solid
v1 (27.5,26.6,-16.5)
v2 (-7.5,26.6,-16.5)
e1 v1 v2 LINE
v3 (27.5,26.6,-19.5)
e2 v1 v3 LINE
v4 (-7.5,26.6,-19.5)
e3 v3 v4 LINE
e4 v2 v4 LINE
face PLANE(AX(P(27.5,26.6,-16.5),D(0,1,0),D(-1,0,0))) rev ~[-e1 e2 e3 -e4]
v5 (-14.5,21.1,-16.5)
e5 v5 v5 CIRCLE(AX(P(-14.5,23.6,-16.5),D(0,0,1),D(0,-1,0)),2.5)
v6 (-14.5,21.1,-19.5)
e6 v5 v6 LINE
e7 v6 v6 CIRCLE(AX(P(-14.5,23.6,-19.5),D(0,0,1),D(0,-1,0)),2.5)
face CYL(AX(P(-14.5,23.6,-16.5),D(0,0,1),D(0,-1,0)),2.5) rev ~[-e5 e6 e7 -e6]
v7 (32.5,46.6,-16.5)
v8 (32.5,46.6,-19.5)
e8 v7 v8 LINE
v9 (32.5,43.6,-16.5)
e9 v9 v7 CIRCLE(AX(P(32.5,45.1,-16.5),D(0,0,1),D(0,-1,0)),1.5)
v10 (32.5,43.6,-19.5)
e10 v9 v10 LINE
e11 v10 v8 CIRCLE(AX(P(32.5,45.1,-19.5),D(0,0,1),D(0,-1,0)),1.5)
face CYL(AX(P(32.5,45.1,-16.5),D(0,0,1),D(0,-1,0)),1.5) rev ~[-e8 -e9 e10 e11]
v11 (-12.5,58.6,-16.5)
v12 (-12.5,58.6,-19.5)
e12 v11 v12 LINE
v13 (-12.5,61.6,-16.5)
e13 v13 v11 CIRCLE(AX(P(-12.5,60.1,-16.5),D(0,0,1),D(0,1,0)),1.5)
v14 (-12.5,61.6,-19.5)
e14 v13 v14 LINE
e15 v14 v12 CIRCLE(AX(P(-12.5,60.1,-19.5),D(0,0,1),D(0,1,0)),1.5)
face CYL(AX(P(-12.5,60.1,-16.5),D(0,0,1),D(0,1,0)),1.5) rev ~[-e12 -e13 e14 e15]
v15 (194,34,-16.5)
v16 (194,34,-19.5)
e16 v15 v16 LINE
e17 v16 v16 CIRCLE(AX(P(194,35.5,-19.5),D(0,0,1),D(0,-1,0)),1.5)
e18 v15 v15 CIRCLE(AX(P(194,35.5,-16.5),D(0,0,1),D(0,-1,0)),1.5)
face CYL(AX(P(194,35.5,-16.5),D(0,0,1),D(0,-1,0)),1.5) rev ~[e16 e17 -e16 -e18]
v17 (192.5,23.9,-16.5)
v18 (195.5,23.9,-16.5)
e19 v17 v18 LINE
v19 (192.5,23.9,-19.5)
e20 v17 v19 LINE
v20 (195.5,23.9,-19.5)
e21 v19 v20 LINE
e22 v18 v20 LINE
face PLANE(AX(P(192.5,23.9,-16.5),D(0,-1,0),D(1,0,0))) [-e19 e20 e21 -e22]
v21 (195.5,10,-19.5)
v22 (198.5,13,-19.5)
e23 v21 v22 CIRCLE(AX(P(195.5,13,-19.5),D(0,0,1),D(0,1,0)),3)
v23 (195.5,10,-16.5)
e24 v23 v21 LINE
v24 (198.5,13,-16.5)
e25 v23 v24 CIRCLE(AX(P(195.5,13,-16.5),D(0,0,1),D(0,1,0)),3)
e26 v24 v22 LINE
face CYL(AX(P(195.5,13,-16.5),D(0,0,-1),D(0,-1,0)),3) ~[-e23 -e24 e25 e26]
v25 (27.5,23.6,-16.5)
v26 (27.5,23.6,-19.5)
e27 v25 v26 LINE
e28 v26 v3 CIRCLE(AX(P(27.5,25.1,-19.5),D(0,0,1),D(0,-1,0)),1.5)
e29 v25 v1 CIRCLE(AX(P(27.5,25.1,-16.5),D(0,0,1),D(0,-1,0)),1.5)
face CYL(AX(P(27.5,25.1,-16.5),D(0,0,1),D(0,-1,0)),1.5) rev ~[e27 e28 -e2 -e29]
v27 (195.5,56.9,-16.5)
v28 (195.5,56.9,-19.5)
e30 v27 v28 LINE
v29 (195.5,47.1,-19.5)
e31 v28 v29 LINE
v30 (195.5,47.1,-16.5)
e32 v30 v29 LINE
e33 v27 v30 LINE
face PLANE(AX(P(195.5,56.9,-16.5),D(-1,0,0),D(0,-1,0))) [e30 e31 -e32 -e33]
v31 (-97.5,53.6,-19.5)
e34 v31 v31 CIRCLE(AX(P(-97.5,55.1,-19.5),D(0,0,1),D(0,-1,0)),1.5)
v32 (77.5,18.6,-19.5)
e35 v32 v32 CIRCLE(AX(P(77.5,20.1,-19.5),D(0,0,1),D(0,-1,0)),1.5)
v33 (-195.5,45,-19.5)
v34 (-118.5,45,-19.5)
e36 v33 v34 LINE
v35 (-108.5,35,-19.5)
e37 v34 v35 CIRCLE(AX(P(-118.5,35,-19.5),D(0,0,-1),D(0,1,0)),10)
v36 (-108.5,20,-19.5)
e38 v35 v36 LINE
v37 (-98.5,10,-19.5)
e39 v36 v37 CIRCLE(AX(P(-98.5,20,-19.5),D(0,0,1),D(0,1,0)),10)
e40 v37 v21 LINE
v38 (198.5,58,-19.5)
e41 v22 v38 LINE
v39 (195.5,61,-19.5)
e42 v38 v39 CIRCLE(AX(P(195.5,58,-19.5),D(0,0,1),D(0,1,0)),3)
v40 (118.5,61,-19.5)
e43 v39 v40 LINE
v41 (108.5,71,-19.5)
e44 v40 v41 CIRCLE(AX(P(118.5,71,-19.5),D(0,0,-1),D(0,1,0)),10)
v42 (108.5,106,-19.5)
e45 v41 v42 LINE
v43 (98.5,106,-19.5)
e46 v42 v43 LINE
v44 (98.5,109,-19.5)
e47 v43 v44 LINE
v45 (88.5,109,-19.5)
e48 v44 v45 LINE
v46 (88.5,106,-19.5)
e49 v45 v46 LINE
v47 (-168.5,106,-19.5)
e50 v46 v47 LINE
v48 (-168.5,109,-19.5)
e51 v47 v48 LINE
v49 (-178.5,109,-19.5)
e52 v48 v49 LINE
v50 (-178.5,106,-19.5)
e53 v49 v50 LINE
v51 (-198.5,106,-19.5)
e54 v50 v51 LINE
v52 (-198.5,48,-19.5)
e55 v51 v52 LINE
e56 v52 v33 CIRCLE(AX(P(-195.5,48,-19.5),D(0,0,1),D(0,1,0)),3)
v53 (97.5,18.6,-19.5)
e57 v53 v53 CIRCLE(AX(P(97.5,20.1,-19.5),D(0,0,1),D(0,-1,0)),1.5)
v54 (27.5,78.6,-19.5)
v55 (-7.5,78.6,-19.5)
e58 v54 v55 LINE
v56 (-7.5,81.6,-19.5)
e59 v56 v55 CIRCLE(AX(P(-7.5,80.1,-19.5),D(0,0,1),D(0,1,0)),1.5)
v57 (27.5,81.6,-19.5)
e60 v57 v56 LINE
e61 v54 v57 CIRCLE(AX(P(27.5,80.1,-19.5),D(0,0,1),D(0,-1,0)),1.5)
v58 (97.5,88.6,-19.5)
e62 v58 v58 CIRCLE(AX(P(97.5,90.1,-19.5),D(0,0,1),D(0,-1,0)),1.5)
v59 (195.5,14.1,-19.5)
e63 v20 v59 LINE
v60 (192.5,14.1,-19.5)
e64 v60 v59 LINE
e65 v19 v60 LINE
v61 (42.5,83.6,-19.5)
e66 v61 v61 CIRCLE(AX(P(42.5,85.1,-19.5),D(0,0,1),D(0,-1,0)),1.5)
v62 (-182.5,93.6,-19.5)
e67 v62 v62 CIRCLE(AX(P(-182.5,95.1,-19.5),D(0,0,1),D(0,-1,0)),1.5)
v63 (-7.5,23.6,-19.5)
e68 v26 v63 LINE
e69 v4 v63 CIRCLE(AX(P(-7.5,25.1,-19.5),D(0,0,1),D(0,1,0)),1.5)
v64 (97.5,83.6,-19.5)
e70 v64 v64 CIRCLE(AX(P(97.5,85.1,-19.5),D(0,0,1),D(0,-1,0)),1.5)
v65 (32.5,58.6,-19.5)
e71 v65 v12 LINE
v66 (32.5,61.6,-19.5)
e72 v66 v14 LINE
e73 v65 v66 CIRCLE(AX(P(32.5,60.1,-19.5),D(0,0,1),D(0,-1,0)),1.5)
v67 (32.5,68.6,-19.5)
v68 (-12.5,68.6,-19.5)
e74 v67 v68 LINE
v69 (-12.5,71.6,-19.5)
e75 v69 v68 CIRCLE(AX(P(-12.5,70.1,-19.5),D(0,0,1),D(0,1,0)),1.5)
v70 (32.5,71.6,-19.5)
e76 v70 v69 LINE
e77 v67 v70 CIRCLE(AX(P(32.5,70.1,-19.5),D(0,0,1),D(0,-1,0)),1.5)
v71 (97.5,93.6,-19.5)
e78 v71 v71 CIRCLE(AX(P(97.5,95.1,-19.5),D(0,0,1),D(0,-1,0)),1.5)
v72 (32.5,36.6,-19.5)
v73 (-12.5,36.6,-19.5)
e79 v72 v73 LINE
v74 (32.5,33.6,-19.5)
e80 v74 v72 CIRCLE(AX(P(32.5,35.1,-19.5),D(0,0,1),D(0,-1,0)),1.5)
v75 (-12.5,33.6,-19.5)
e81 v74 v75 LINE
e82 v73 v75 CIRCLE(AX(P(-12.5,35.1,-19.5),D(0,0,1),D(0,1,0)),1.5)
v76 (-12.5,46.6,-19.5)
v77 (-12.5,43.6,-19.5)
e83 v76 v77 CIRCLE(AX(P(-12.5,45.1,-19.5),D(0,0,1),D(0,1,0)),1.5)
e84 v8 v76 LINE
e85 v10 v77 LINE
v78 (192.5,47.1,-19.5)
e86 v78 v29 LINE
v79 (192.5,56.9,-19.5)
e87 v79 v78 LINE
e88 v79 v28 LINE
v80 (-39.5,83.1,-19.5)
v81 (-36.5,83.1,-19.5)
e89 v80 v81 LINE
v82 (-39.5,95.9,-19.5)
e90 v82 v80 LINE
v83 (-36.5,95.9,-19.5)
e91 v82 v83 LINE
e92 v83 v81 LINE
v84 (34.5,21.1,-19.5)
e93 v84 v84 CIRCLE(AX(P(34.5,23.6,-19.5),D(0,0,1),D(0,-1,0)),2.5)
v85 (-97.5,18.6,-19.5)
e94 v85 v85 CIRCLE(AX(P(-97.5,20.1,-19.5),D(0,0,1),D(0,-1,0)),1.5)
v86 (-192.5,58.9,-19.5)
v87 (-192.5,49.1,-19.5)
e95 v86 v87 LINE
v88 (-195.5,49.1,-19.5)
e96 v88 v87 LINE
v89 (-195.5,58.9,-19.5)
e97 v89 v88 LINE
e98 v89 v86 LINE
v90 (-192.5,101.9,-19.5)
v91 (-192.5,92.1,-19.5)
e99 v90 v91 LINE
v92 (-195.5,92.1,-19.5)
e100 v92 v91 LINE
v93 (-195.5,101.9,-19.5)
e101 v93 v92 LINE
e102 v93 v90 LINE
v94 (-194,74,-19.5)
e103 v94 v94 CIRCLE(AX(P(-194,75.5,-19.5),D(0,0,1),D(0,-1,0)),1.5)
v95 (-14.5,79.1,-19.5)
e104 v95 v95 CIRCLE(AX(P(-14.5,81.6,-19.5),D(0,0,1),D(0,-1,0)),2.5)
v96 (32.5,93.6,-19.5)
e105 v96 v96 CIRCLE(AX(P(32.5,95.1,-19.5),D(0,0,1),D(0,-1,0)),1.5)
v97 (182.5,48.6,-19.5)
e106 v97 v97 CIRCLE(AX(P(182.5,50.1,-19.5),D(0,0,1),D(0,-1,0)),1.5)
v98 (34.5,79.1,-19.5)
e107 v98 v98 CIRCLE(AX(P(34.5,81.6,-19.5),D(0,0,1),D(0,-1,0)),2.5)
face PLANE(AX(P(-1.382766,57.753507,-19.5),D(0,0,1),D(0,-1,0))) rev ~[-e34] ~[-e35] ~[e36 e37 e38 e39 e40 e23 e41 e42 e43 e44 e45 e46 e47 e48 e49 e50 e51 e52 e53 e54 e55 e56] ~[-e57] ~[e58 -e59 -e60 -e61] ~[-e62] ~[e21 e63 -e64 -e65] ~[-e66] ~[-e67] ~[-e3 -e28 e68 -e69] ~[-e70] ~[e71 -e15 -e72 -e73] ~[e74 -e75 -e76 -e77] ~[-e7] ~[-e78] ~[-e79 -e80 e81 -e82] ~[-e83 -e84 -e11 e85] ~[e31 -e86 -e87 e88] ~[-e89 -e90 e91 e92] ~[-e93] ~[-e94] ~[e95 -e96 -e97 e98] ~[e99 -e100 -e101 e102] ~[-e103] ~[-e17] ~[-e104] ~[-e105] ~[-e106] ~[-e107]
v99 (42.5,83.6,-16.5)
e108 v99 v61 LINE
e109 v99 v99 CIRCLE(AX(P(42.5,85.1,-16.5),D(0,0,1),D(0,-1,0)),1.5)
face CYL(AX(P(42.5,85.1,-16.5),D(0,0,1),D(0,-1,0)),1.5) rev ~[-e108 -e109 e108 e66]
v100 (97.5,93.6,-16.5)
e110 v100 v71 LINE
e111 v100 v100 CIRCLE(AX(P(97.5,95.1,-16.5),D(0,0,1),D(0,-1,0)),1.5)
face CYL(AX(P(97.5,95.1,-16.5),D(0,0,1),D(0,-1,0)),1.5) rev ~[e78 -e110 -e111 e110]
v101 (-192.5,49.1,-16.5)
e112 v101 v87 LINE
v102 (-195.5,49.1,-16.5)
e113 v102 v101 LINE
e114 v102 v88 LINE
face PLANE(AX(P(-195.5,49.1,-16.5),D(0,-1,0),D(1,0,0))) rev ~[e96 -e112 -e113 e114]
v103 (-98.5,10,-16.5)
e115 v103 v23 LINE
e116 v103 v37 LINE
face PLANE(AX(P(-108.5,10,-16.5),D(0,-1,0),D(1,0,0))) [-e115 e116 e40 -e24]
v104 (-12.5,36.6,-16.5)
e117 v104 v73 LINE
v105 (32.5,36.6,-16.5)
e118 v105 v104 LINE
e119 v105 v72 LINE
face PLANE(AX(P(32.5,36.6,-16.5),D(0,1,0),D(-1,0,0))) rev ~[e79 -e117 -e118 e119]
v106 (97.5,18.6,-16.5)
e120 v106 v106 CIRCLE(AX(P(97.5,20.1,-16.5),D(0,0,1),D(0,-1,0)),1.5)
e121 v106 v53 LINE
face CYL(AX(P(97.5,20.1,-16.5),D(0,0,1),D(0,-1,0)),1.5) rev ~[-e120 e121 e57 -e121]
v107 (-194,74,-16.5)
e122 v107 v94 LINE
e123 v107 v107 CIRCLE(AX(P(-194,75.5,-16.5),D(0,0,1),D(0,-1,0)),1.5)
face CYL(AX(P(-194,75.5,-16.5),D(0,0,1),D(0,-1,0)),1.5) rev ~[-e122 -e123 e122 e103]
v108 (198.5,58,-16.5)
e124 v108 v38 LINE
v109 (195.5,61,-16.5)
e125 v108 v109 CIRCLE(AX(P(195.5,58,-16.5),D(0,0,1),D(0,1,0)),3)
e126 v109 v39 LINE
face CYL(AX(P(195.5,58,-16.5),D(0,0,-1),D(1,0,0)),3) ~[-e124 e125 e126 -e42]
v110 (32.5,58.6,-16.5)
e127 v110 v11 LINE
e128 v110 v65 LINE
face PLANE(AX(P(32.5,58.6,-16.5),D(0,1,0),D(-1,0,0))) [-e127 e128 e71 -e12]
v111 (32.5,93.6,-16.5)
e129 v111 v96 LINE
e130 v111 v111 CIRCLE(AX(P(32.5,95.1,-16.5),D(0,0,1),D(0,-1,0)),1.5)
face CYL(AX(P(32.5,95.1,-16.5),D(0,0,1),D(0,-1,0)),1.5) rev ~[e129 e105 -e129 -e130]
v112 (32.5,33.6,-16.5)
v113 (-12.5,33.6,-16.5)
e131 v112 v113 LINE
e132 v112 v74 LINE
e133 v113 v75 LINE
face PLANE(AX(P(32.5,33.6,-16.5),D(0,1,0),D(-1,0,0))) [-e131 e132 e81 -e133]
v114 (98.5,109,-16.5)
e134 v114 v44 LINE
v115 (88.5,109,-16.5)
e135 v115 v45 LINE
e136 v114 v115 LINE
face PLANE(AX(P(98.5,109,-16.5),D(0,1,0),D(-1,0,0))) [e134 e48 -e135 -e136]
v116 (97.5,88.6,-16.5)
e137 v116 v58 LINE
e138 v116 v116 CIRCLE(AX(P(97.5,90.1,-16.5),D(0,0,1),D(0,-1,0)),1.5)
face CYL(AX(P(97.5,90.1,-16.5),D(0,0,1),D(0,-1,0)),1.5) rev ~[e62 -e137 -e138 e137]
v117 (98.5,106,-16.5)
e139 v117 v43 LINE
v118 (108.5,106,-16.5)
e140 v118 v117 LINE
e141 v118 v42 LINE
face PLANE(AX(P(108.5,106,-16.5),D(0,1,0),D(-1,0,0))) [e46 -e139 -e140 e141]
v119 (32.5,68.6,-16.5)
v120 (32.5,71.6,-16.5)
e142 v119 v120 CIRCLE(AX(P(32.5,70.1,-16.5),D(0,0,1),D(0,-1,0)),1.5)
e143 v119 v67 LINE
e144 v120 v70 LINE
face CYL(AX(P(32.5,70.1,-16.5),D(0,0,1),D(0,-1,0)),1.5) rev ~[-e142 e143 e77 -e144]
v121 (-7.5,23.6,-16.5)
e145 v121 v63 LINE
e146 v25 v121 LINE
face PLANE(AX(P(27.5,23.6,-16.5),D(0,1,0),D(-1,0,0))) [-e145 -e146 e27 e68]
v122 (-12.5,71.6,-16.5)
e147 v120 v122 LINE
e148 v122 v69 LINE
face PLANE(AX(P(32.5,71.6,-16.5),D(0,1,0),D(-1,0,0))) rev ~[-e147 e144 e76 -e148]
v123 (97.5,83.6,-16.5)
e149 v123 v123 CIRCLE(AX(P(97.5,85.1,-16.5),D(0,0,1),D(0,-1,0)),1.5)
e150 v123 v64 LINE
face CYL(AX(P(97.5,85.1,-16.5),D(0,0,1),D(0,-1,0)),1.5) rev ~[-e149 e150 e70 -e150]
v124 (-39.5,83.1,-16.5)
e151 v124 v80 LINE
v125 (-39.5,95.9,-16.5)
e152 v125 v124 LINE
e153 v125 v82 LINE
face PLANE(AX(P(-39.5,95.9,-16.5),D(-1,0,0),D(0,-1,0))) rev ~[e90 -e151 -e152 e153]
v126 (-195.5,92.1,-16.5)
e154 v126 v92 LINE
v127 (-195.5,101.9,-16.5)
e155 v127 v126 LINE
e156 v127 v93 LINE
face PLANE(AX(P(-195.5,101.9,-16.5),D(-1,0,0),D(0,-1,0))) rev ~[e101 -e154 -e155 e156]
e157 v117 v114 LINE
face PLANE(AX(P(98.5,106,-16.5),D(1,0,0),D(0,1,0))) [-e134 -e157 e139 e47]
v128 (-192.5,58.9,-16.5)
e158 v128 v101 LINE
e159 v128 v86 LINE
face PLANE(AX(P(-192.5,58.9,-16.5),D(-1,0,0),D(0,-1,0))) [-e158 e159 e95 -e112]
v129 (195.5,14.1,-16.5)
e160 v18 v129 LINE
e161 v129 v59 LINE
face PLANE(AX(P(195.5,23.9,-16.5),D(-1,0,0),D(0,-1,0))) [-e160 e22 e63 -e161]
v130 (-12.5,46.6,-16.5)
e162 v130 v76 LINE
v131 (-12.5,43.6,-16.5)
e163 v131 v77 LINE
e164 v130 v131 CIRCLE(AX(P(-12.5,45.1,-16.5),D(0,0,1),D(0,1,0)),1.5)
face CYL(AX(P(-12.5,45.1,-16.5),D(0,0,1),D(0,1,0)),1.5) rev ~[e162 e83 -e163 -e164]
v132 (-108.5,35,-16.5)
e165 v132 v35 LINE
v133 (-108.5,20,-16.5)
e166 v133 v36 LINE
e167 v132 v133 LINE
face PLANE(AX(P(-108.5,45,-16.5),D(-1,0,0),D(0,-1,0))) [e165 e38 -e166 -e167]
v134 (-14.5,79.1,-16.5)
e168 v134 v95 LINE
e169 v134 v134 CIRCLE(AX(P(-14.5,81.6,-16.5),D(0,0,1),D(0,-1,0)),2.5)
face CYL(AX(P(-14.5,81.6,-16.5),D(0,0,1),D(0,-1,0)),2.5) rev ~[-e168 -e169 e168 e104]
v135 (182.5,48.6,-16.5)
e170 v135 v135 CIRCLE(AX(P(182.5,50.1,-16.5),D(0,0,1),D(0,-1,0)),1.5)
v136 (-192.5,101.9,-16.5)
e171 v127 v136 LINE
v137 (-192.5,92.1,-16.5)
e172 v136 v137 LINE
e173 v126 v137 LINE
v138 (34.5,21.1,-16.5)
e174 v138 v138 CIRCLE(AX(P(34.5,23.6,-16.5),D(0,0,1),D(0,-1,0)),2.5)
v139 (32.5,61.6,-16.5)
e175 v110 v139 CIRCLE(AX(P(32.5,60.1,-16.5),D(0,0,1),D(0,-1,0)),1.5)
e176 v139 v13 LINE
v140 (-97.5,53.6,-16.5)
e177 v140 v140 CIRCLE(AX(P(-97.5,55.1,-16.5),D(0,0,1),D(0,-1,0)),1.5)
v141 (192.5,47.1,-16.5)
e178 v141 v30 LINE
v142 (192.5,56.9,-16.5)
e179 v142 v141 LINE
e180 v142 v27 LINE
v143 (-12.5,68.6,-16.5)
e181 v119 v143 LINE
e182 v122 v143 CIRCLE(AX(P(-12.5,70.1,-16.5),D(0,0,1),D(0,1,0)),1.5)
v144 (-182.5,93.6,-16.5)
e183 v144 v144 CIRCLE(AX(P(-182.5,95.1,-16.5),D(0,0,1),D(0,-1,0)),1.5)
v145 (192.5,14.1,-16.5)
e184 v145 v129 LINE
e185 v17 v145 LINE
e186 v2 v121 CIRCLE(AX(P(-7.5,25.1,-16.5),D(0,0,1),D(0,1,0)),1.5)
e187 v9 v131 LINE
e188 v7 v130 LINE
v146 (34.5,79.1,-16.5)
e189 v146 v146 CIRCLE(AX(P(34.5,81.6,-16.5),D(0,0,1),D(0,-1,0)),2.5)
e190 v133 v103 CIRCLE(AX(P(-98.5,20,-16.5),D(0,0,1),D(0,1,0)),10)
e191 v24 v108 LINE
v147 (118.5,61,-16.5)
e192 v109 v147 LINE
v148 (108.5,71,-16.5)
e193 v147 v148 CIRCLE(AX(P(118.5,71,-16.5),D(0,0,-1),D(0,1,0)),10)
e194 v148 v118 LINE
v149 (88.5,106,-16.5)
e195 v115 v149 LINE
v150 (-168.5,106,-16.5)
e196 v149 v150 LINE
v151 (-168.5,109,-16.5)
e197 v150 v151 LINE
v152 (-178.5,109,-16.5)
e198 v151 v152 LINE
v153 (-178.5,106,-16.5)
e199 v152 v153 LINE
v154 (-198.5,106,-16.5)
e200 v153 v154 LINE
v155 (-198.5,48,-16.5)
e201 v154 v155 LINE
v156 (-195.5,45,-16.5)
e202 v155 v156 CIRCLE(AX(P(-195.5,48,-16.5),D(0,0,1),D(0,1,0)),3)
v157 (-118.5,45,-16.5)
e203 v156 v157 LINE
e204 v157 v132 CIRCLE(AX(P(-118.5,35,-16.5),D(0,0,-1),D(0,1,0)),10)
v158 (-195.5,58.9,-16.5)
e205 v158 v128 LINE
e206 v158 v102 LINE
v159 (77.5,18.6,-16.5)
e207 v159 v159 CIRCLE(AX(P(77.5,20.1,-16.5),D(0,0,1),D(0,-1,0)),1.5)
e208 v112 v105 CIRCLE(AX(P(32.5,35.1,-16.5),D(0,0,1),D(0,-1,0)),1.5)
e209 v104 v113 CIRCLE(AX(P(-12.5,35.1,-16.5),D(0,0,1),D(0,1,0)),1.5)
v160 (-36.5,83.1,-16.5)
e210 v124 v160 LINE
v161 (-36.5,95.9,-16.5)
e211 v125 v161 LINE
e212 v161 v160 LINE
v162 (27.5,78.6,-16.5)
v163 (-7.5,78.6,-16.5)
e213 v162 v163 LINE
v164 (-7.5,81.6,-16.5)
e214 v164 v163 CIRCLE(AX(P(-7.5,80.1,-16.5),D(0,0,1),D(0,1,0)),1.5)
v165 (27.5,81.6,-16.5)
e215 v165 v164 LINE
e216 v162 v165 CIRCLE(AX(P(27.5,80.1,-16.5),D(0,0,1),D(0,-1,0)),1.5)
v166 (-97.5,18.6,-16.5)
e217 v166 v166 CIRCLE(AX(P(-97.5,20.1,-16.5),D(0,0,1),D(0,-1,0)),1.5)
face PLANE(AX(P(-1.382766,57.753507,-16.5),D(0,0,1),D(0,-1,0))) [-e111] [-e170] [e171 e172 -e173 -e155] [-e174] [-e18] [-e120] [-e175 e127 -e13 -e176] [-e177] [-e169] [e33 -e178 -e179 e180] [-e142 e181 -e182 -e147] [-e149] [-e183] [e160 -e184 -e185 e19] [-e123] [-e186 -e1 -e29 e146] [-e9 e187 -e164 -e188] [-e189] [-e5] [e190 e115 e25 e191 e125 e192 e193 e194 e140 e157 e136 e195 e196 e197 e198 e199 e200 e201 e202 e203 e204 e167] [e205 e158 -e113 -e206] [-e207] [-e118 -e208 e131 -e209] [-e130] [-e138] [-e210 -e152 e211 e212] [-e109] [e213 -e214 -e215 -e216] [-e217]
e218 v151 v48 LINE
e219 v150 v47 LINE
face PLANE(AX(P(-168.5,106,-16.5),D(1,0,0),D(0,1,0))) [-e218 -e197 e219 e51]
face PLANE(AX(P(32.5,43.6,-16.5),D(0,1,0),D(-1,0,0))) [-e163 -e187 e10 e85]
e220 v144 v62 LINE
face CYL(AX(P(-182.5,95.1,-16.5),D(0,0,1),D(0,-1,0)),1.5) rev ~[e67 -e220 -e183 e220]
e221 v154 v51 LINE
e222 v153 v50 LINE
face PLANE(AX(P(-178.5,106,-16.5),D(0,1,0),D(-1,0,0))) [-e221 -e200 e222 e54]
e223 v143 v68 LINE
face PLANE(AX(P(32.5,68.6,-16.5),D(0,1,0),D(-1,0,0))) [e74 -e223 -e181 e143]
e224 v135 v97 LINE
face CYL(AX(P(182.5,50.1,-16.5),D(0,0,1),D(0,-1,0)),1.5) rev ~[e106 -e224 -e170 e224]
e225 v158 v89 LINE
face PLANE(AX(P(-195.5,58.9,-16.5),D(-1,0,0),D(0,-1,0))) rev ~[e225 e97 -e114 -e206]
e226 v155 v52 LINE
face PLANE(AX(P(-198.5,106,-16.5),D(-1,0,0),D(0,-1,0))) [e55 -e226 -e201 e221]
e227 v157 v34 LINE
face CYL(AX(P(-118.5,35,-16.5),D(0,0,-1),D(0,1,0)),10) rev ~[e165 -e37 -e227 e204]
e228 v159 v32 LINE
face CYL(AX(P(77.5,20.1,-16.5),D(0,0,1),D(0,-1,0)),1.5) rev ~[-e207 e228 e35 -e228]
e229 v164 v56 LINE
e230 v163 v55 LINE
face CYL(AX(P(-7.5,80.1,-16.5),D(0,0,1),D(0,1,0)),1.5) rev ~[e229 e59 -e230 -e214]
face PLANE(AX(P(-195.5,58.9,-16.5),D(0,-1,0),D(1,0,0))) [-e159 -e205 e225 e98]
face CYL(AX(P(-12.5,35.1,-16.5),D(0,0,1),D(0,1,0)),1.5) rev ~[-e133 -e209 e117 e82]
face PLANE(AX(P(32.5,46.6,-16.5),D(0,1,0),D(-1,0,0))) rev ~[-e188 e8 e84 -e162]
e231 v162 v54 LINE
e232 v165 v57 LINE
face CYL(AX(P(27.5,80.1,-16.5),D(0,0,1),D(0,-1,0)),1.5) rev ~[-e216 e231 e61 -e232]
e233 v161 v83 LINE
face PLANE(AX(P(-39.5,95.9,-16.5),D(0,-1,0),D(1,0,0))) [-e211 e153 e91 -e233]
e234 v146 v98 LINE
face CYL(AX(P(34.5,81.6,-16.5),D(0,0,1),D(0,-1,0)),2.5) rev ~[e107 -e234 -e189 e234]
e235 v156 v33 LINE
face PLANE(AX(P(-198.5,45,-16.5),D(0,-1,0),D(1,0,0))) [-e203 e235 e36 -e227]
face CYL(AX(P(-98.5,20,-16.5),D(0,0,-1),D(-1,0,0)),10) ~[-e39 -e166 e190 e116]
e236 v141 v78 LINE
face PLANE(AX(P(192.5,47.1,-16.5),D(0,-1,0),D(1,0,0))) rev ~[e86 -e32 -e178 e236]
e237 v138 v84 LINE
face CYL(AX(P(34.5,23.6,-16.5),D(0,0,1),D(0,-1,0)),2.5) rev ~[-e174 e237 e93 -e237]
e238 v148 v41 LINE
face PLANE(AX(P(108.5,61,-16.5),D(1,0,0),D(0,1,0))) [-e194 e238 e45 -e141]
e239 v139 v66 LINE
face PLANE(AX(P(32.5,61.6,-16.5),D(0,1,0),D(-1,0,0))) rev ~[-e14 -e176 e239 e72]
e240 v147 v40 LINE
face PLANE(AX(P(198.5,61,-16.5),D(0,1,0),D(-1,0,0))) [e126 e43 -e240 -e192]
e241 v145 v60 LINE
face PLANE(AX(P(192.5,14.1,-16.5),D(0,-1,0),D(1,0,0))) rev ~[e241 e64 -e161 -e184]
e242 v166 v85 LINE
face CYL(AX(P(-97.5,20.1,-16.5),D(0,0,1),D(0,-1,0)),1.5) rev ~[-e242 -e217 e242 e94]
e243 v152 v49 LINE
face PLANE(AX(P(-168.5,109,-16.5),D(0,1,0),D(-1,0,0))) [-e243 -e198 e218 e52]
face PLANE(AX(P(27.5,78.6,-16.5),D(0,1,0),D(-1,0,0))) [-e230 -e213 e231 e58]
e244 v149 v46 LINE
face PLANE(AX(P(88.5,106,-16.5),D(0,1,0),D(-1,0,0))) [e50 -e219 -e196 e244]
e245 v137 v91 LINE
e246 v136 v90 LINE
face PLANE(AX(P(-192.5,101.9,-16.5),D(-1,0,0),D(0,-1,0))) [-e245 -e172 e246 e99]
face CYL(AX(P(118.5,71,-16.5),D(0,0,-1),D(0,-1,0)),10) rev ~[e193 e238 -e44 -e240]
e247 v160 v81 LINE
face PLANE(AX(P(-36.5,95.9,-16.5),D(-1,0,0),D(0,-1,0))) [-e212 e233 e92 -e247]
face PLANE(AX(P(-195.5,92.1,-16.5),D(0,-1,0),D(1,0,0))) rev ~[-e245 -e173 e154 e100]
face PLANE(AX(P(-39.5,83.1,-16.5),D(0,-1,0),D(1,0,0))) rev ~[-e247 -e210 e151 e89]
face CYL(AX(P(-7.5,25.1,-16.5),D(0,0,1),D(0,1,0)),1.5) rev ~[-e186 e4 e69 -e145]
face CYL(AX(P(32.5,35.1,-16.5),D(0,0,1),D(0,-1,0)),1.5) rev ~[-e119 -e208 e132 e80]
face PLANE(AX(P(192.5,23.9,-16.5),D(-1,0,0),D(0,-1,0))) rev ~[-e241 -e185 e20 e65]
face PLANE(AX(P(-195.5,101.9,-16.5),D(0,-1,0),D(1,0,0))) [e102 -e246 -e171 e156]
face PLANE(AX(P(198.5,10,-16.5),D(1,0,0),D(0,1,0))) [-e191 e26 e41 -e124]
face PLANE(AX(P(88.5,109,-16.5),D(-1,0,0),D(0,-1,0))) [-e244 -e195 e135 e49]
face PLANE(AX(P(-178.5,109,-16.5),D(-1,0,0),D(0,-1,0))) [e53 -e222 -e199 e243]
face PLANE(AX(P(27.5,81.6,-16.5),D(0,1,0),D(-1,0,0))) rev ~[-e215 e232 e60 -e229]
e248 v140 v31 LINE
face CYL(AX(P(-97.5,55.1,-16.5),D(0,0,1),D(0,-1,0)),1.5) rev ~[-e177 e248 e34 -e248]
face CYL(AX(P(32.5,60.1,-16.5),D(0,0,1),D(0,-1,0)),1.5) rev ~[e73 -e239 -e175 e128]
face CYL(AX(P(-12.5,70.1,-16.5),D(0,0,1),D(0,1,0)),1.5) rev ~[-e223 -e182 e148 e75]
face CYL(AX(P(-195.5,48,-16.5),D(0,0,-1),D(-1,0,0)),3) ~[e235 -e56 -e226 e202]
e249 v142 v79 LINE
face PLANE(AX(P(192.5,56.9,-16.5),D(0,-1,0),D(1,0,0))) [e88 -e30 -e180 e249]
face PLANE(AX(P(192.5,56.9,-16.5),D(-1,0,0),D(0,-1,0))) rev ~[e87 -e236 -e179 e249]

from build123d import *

# Parameters (mm, degrees)
SKETCH001002008_R   = 1.5
SKETCH001002008_R_2 = 2.5
SKETCH001002008_W   = 9.8
SKETCH001002008_H   = 3
SKETCH001002008_W_2 = 12.8
PAD013_DEPTH        = 3
FILLET027_R         = 3
FILLET030_R         = 10


with BuildPart() as part:
    # Sketch001002008 → Pad013 (new body)
    with BuildSketch(Plane(origin=(0, 45, -16.5), x_dir=(0, -1, 0), z_dir=(0, 0, 1))):
        Polygon((-61, -198.5), (0, -198.5), (0, -108.5), (35, -108.5), (35, 198.5), (-16, 198.5), (-16, 108.5), (-61, 108.5), (-61, 98.5), (-64, 98.5), (-64, 88.5), (-61, 88.5), (-61, -168.5), (-64, -168.5), (-64, -178.5), (-61, -178.5), align=None)
        with Locations((9.5, 194)):
            Circle(SKETCH001002008_R, mode=Mode.SUBTRACT)
        with Locations((-30.5, -194)):
            Circle(SKETCH001002008_R, mode=Mode.SUBTRACT)
        with Locations((-5.1, 182.5)):
            Circle(SKETCH001002008_R, mode=Mode.SUBTRACT)
        with Locations((-36.6, 34.5)):
            Circle(SKETCH001002008_R_2, mode=Mode.SUBTRACT)
        with Locations((21.4, 34.5)):
            Circle(SKETCH001002008_R_2, mode=Mode.SUBTRACT)
        with Locations((21.4, -14.5)):
            Circle(SKETCH001002008_R_2, mode=Mode.SUBTRACT)
        with Locations((-36.6, -14.5)):
            Circle(SKETCH001002008_R_2, mode=Mode.SUBTRACT)
        with Locations((-50.1, 97.5)):
            Circle(SKETCH001002008_R, mode=Mode.SUBTRACT)
        with Locations((-50.1, -182.5)):
            Circle(SKETCH001002008_R, mode=Mode.SUBTRACT)
        with Locations((24.9, -97.5)):
            Circle(SKETCH001002008_R, mode=Mode.SUBTRACT)
        with Locations((-50.1, 32.5)):
            Circle(SKETCH001002008_R, mode=Mode.SUBTRACT)
        with Locations((-10.1, -97.5)):
            Circle(SKETCH001002008_R, mode=Mode.SUBTRACT)
        with Locations((24.9, 77.5)):
            Circle(SKETCH001002008_R, mode=Mode.SUBTRACT)
        with Locations((-45.1, 97.5)):
            Circle(SKETCH001002008_R, mode=Mode.SUBTRACT)
        with Locations((-40.1, 97.5)):
            Circle(SKETCH001002008_R, mode=Mode.SUBTRACT)
        with Locations((24.9, 97.5)):
            Circle(SKETCH001002008_R, mode=Mode.SUBTRACT)
        with Locations((-40.1, 42.5)):
            Circle(SKETCH001002008_R, mode=Mode.SUBTRACT)
        with Locations((-52, -194)):
            Rectangle(SKETCH001002008_W, SKETCH001002008_H, mode=Mode.SUBTRACT)
        with Locations((-9, -194)):
            Rectangle(SKETCH001002008_W, SKETCH001002008_H, mode=Mode.SUBTRACT)
        with Locations((-7, 194)):
            Rectangle(SKETCH001002008_W, SKETCH001002008_H, mode=Mode.SUBTRACT)
        with Locations((26, 194)):
            Rectangle(SKETCH001002008_W, SKETCH001002008_H, mode=Mode.SUBTRACT)
        with Locations((-44.5, -38)):
            Rectangle(SKETCH001002008_W_2, SKETCH001002008_H, mode=Mode.SUBTRACT)
        with BuildLine():
            ThreePointArc((-33.6, 27.5), (-35.1, 29), (-36.6, 27.5))
            Line((-36.6, 27.5), (-36.6, -7.5))
            ThreePointArc((-36.6, -7.5), (-35.1, -9), (-33.6, -7.5))
            Line((-33.6, 27.5), (-33.6, -7.5))
        make_face(mode=Mode.SUBTRACT)
        with BuildLine():
            ThreePointArc((-23.6, 32.5), (-25.1, 34), (-26.6, 32.5))
            Line((-26.6, 32.5), (-26.6, -12.5))
            ThreePointArc((-26.6, -12.5), (-25.1, -14), (-23.6, -12.5))
            Line((-23.6, 32.5), (-23.6, -12.5))
        make_face(mode=Mode.SUBTRACT)
        with BuildLine():
            ThreePointArc((-13.6, 32.5), (-15.1, 34), (-16.6, 32.5))
            Line((-16.6, 32.5), (-16.6, -12.5))
            ThreePointArc((-16.6, -12.5), (-15.1, -14), (-13.6, -12.5))
            Line((-13.6, 32.5), (-13.6, -12.5))
        make_face(mode=Mode.SUBTRACT)
        with BuildLine():
            ThreePointArc((1.4, 32.5), (-0.1, 34), (-1.6, 32.5))
            Line((-1.6, 32.5), (-1.6, -12.5))
            ThreePointArc((-1.6, -12.5), (-0.1, -14), (1.4, -12.5))
            Line((1.4, 32.5), (1.4, -12.5))
        make_face(mode=Mode.SUBTRACT)
        with BuildLine():
            ThreePointArc((11.4, 32.5), (9.9, 34), (8.4, 32.5))
            Line((8.4, 32.5), (8.4, -12.5))
            ThreePointArc((8.4, -12.5), (9.9, -14), (11.4, -12.5))
            Line((11.4, 32.5), (11.4, -12.5))
        make_face(mode=Mode.SUBTRACT)
        with BuildLine():
            ThreePointArc((21.4, 27.5), (19.9, 29), (18.4, 27.5))
            Line((18.4, 27.5), (18.4, -7.5))
            ThreePointArc((18.4, -7.5), (19.9, -9), (21.4, -7.5))
            Line((21.4, 27.5), (21.4, -7.5))
        make_face(mode=Mode.SUBTRACT)
    extrude(amount=-PAD013_DEPTH)

    # Fillet027
    fillet027_edges = [part.edges().sort_by_distance(p)[0] for p in [
        (-198.5, 45, -18),
        (198.5, 10, -18),
        (198.5, 61, -18),
    ]]
    fillet(fillet027_edges, radius=FILLET027_R)

    # Fillet030
    fillet030_edges = [part.edges().sort_by_distance(p)[0] for p in [
        (-108.5, 45, -18),
        (-108.5, 10, -18),
        (108.5, 61, -18),
    ]]
    fillet(fillet030_edges, radius=FILLET030_R)


solid = part.part
